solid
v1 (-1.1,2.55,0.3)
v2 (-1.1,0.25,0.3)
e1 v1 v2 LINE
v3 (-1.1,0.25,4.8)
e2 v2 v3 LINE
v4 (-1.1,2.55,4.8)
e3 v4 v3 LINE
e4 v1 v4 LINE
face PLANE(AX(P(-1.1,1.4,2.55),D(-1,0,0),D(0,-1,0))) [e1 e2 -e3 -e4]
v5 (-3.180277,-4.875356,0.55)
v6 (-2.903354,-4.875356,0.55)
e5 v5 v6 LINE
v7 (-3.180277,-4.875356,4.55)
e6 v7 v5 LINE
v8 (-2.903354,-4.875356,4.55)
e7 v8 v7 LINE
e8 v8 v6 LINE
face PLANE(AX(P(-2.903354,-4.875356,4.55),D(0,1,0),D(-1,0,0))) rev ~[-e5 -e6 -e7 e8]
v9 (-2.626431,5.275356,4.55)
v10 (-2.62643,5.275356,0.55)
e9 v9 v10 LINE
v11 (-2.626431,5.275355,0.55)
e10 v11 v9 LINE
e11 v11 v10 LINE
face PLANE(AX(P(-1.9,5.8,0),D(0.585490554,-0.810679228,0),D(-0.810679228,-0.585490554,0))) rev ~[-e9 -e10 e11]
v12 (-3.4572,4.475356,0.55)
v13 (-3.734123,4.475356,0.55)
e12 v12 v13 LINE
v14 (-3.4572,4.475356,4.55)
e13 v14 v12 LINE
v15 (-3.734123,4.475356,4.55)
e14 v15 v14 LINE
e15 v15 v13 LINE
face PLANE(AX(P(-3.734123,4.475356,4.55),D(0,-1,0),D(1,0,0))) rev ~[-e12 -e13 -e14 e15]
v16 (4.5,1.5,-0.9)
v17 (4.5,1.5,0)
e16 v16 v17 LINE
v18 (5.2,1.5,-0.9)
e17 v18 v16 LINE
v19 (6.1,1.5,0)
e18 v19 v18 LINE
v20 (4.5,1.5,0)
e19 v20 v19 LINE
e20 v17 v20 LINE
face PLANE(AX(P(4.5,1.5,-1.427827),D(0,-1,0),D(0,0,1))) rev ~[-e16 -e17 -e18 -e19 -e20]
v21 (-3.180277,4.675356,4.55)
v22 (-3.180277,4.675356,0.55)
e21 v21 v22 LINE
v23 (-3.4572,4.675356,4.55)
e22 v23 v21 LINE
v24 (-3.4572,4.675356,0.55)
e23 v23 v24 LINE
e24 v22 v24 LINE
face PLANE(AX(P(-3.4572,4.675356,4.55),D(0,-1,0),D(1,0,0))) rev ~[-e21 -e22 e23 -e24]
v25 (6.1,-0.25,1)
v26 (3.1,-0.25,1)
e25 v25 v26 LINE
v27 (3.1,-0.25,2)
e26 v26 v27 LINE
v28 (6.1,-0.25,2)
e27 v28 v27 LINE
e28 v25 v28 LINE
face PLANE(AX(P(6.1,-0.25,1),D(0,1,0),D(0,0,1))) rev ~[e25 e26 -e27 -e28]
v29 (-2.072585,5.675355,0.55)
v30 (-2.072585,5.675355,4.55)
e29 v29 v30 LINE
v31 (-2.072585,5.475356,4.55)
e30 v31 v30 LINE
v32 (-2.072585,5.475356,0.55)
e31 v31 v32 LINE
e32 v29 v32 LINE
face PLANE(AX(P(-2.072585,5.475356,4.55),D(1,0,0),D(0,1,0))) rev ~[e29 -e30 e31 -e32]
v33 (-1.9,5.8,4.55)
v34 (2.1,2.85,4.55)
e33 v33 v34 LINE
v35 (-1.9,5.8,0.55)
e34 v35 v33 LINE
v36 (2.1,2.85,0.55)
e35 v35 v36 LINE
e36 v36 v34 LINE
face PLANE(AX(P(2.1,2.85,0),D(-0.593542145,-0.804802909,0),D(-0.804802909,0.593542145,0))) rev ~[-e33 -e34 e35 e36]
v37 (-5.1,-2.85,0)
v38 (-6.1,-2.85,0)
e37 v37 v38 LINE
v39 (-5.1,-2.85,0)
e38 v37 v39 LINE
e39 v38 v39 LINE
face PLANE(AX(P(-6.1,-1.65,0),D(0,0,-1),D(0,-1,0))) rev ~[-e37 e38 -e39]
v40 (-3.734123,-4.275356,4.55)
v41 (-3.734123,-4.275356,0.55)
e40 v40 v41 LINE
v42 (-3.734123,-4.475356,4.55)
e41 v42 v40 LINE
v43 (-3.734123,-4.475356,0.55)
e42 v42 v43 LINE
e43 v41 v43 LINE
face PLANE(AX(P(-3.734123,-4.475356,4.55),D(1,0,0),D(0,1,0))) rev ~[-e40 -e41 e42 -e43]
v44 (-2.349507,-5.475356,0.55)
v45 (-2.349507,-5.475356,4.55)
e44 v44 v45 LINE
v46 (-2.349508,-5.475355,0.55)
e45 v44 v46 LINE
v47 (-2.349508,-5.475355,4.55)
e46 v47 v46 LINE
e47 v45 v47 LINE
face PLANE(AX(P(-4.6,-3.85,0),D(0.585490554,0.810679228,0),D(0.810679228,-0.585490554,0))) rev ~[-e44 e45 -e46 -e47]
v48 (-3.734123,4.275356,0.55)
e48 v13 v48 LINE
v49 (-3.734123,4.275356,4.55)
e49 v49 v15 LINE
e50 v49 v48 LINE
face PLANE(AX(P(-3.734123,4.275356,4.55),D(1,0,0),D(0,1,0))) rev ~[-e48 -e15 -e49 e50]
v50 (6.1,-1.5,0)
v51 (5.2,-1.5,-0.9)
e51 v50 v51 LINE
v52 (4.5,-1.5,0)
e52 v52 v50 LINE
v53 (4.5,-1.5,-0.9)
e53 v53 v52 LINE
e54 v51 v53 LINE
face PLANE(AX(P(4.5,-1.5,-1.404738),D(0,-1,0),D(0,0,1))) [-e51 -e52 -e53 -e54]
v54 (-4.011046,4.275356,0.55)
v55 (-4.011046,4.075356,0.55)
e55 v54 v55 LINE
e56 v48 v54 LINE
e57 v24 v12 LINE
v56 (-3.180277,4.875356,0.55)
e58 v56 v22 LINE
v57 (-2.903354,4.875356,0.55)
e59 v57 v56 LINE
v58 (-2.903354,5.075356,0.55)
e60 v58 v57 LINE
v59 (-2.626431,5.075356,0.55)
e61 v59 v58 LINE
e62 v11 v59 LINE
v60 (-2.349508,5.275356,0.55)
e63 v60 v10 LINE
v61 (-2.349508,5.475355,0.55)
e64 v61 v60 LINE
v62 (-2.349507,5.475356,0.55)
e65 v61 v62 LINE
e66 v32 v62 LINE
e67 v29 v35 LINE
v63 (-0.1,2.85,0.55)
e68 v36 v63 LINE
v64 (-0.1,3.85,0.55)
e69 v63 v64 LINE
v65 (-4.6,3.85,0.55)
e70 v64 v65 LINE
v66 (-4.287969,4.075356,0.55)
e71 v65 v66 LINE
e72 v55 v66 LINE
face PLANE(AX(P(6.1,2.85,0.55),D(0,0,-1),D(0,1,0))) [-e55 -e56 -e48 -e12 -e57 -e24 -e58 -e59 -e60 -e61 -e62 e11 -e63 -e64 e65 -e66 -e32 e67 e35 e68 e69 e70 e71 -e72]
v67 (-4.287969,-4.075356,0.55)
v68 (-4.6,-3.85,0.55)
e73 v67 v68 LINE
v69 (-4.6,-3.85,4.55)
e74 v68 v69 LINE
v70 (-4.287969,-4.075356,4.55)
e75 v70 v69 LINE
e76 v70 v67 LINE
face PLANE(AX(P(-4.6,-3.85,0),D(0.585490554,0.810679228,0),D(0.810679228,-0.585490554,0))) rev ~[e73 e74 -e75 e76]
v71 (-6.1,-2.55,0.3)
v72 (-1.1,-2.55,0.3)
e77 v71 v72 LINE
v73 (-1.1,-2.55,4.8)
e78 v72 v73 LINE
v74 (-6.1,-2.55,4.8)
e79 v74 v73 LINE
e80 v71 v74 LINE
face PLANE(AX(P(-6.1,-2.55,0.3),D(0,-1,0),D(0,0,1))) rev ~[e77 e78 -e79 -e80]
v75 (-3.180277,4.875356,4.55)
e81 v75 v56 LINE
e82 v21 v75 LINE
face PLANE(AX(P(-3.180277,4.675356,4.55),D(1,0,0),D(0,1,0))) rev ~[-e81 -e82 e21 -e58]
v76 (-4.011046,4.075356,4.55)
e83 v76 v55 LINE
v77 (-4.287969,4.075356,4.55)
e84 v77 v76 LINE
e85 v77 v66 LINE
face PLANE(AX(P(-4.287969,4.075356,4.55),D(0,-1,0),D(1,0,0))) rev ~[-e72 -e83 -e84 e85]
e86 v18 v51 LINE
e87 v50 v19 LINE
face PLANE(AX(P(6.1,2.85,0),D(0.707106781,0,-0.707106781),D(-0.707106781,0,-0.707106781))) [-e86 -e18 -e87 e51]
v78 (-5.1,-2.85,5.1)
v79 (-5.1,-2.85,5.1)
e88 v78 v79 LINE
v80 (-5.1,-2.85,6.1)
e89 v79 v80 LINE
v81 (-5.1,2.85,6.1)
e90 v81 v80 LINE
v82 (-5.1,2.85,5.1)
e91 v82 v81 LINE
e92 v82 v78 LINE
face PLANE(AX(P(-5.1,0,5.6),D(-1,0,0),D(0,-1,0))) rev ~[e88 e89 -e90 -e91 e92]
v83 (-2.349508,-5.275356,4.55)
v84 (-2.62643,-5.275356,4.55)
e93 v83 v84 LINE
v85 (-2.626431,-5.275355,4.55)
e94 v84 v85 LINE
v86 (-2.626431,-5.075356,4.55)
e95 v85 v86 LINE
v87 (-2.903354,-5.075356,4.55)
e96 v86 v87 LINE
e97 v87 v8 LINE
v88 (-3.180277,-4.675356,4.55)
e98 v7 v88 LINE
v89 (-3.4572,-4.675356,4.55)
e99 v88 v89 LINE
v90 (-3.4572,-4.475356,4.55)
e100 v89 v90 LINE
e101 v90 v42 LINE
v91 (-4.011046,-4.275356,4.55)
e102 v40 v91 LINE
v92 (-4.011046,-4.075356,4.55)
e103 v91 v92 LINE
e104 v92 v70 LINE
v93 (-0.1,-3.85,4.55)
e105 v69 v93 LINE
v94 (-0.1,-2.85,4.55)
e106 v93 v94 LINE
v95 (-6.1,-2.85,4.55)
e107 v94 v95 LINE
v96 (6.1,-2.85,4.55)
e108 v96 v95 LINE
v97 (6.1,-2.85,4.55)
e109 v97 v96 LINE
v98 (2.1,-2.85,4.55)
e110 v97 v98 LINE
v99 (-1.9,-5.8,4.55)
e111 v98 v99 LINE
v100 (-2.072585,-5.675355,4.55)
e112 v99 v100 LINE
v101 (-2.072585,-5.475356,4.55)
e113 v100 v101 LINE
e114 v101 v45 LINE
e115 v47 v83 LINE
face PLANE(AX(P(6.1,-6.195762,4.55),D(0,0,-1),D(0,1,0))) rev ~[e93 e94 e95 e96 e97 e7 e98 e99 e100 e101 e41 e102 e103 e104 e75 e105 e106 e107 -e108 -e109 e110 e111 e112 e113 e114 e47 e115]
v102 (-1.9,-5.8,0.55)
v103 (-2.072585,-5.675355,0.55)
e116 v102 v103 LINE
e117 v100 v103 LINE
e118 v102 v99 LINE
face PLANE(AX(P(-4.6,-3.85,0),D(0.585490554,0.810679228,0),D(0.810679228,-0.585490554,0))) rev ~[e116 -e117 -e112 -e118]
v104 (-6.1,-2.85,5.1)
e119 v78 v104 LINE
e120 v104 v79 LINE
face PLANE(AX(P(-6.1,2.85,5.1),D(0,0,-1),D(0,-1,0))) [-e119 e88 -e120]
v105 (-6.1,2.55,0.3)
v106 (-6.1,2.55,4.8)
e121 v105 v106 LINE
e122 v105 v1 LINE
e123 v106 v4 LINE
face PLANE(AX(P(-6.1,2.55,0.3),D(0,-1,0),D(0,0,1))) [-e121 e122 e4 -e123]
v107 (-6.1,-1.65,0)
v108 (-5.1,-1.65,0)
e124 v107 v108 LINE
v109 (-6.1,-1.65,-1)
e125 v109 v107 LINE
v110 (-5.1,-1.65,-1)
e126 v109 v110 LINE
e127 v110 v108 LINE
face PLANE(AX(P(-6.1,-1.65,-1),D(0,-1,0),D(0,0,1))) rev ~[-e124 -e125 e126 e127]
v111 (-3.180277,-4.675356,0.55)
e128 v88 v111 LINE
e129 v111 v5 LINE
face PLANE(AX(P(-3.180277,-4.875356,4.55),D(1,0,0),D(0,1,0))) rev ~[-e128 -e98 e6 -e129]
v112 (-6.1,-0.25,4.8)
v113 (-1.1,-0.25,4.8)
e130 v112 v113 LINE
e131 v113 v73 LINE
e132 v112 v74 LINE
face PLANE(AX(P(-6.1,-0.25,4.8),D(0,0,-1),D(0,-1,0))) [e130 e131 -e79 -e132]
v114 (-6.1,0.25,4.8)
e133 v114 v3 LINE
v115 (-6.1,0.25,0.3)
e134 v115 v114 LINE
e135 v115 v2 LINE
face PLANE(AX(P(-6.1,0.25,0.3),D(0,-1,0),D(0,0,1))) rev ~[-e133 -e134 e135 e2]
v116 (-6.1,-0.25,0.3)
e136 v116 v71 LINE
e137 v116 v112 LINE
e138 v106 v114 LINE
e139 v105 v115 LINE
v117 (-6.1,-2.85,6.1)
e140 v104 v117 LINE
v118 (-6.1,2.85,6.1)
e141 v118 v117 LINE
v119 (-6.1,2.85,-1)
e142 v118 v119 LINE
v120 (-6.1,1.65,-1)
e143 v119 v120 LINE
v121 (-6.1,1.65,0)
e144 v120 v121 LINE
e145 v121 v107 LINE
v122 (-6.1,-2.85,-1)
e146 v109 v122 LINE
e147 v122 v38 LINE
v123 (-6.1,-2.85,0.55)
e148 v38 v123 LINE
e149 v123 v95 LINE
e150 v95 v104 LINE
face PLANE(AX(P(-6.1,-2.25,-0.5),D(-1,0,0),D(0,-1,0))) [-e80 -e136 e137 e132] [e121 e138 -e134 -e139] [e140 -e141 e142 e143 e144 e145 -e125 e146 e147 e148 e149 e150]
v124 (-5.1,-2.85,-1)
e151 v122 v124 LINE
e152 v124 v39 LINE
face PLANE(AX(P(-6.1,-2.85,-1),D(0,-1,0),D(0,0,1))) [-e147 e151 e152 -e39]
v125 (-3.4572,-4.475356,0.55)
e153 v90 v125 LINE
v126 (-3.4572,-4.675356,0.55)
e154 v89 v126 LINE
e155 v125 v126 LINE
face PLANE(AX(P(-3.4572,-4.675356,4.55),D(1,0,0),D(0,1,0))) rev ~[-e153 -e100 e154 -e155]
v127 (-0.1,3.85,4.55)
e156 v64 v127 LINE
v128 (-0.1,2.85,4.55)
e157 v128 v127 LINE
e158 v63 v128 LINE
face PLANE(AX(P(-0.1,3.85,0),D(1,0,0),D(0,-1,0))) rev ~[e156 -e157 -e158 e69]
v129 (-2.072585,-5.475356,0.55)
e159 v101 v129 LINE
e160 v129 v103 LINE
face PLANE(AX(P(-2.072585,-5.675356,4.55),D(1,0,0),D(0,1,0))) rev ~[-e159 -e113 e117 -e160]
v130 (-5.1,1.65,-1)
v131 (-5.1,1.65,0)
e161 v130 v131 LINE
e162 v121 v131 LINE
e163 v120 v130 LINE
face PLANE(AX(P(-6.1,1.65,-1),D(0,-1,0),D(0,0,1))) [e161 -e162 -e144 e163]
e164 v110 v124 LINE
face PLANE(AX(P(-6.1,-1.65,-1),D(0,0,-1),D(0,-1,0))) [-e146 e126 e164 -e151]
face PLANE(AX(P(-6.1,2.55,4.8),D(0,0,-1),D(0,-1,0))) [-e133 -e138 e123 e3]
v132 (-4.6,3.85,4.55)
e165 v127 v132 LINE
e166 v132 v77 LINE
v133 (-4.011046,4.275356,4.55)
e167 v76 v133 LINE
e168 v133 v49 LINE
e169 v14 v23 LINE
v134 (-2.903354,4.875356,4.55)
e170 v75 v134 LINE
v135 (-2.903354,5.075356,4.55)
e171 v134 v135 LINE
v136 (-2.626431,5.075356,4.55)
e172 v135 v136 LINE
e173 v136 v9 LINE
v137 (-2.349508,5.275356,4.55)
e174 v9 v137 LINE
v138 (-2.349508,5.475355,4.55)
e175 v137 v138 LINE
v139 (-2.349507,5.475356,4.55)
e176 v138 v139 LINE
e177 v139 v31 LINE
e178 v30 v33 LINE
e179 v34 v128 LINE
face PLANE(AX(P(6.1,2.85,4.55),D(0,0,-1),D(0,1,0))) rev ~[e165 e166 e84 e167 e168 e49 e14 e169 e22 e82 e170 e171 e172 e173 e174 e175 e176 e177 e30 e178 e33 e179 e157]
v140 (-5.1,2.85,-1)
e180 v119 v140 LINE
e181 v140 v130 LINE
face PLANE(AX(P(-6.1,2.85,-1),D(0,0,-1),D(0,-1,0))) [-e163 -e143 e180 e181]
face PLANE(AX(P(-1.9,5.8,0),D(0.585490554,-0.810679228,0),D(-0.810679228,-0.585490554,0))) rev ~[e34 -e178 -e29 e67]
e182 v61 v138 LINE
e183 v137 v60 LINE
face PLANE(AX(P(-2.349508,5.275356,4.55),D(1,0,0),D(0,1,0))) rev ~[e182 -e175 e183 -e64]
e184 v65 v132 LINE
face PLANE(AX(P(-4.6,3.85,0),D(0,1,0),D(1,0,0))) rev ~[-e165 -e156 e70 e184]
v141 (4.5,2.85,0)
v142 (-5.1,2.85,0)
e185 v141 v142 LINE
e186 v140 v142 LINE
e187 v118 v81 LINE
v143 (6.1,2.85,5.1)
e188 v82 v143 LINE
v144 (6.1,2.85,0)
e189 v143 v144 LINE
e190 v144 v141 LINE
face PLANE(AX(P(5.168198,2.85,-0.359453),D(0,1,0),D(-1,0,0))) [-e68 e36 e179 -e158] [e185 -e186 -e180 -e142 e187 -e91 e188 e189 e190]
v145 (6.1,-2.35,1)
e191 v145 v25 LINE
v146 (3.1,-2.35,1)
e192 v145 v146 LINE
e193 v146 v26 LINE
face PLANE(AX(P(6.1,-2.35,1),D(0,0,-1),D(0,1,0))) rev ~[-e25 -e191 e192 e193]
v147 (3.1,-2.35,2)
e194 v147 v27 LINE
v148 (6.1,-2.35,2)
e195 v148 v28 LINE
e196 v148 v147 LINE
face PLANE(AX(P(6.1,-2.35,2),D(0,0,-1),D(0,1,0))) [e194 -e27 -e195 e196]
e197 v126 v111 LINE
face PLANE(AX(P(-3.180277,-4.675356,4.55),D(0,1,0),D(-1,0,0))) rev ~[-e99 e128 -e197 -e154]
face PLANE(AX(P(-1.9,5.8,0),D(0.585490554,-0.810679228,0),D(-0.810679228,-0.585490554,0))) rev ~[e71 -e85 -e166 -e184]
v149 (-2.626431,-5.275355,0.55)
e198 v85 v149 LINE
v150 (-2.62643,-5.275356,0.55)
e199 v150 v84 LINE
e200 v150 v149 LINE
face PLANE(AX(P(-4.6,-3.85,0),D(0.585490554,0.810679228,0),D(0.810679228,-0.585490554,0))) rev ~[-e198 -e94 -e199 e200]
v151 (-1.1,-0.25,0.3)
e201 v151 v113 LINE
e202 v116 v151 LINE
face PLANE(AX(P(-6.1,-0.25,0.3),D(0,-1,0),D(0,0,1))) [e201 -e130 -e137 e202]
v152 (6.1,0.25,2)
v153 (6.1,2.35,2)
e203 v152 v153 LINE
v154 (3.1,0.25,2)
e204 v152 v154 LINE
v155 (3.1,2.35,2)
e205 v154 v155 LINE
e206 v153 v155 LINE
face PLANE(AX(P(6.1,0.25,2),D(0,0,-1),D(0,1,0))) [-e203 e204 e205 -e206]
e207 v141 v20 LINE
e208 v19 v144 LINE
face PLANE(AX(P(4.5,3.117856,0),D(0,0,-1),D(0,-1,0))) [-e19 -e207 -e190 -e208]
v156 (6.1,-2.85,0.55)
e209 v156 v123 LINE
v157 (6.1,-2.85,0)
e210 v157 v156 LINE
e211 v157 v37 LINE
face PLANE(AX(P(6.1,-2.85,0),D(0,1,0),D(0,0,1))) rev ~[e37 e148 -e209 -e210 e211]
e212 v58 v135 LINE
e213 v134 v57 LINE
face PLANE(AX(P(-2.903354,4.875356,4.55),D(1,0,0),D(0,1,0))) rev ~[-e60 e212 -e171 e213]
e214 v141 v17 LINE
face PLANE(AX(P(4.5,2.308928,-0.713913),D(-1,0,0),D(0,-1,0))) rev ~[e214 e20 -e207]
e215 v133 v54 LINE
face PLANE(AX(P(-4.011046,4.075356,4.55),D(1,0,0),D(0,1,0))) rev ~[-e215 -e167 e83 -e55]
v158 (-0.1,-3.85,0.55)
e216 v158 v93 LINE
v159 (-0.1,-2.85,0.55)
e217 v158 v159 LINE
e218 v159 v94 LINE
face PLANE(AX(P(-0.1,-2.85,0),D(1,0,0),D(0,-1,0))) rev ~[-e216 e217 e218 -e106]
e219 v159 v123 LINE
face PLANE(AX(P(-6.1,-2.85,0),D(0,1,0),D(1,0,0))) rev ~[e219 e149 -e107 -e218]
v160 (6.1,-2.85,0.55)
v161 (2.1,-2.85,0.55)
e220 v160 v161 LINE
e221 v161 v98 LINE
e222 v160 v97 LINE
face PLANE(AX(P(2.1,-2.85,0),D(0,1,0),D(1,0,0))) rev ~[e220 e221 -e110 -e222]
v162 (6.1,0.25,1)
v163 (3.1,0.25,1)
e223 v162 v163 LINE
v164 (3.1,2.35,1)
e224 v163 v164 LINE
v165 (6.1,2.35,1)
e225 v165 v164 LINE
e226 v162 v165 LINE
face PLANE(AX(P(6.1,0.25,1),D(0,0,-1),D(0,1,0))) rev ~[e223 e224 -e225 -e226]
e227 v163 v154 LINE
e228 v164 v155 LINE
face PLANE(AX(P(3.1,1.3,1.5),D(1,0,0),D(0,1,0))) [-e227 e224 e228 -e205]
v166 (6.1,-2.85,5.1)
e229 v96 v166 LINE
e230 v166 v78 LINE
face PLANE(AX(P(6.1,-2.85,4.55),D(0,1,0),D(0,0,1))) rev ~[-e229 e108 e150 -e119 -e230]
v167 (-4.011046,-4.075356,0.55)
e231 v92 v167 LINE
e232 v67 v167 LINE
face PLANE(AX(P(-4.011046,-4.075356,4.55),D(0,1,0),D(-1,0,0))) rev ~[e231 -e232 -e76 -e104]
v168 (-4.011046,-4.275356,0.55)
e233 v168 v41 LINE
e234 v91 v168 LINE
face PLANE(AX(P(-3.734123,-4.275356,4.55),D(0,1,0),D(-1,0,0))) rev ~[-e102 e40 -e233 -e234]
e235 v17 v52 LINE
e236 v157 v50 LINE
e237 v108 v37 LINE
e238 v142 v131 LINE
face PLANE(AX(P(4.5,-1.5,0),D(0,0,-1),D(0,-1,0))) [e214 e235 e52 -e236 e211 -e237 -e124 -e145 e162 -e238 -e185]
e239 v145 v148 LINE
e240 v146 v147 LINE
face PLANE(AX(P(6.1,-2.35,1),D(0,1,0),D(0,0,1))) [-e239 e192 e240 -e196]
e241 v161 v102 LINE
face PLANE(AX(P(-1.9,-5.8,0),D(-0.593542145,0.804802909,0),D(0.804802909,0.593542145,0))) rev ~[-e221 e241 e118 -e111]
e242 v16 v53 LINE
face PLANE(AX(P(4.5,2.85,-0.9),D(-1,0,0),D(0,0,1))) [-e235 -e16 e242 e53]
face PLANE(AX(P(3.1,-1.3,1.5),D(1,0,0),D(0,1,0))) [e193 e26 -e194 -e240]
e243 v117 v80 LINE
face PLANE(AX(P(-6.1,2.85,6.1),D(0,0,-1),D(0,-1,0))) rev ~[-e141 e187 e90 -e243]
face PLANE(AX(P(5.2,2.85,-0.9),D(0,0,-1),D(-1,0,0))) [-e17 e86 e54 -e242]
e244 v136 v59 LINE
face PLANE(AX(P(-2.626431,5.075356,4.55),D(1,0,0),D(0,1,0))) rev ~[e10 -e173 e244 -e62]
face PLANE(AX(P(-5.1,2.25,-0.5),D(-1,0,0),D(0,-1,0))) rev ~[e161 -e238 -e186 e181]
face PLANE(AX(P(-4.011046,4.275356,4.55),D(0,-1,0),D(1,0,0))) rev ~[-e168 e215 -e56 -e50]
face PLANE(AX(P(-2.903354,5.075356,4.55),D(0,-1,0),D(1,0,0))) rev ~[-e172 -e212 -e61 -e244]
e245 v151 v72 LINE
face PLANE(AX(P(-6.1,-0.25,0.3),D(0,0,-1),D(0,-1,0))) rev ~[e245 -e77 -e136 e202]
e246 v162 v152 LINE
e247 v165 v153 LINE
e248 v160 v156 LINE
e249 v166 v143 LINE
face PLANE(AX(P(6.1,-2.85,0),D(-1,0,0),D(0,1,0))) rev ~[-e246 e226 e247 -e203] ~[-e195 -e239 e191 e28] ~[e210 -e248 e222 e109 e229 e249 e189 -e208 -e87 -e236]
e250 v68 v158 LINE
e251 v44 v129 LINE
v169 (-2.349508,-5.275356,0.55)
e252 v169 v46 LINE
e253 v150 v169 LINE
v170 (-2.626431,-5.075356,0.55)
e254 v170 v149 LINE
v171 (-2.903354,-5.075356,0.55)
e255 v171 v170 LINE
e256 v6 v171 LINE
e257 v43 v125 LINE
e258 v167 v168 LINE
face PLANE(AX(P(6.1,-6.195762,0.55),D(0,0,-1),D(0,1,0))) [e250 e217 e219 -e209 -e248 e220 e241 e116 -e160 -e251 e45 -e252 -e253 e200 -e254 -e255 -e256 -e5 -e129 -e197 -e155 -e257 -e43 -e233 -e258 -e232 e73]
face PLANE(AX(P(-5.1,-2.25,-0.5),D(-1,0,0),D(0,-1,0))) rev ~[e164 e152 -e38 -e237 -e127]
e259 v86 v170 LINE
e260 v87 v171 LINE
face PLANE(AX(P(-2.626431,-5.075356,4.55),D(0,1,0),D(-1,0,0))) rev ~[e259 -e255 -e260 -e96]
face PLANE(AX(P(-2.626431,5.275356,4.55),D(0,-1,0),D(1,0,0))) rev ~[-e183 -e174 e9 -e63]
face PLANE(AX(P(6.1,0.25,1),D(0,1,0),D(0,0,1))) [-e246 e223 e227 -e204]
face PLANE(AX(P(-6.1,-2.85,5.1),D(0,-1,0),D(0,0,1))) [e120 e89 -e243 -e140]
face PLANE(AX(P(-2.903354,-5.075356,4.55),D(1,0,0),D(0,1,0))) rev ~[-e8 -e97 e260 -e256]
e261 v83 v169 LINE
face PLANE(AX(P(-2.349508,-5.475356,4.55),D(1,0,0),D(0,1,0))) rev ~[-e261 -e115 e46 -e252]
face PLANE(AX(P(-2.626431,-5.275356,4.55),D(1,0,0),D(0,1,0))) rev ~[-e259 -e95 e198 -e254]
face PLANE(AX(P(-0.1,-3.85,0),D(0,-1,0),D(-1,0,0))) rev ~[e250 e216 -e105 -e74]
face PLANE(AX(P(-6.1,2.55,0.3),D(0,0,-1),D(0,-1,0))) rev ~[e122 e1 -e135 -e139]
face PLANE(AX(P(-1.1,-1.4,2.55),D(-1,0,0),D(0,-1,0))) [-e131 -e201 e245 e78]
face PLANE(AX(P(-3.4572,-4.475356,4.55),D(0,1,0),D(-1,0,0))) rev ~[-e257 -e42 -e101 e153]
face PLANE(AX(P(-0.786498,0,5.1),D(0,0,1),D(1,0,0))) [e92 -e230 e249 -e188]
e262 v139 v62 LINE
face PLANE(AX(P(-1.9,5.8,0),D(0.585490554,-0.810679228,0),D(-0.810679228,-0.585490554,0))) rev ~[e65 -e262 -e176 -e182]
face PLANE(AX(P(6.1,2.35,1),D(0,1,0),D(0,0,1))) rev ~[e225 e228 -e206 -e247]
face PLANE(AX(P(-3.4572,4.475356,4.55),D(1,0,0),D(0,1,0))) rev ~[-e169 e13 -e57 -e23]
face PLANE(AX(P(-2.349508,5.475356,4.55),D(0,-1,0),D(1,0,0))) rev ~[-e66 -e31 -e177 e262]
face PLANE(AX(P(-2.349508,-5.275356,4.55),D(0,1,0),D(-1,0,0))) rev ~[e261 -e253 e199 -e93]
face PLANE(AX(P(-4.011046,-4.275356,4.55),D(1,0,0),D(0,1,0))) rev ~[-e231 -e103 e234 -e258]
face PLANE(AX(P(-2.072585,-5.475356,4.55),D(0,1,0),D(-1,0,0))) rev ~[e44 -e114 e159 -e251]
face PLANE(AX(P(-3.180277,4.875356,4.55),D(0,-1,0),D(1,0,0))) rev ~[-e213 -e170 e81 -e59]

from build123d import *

# Parameters (mm, degrees)
F1_DEPTH  = 5.1
F2_W      = 3.345763
F2_H      = 0.55
F2_W_2    = 3.297828
F3_DEPTH  = 15
F5_DEPTH  = 25
F6_DEPTH  = 10
F7_W      = 5.7
F7_H      = 1
F7_W_2    = 1.2
F8_DEPTH  = 1
F11_DEPTH = 5.7
F12_W     = 1.586434
F12_H     = 1.404738
F12_W_2   = 1.617856
F12_H_2   = 1.427827
F13_DEPTH = 3
F14_W     = 2.1
F14_H     = 1
F15_DEPTH = 3
F16_W     = 2.3
F16_H     = 4.5
F17_DEPTH = 5


with BuildPart() as f1:
    # F0 (on Top) → F1 (new body)
    with BuildSketch(Plane.XY):
        Polygon((-0.1, 2.85), (-6.1, 2.85), (-6.1, -2.85), (-0.1, -2.85), (-0.1, -3.85), (-4.6, -3.85), (-1.9, -5.8), (2.1, -2.85), (6.1, -2.85), (6.1, 2.85), (2.1, 2.85), (-1.9, 5.8), (-4.6, 3.85), (-0.1, 3.85), align=None)
    extrude(amount=F1_DEPTH)

    # F2 (on face) → F3 (cut)
    with BuildSketch(Plane.YZ.offset(6.1)):
        with Locations((-4.522881, 4.825)):
            Rectangle(F2_W, F2_H)
        with Locations((-4.522881, 0.275)):
            Rectangle(F2_W, F2_H)
        with Locations((4.498914, 4.825)):
            Rectangle(F2_W_2, F2_H)
        with Locations((4.498914, 0.275)):
            Rectangle(F2_W_2, F2_H)
    extrude(amount=-F3_DEPTH, mode=Mode.SUBTRACT)

    # F4 (on face) → F5 (cut)
    with BuildSketch(Plane.XY.offset(4.55)):
        Polygon((-4.011046, 4.075356), (-4.011046, 4.275356), (-4.287969, 4.075356), align=None)
        Polygon((-3.734123, 4.275356), (-3.734123, 4.475356), (-4.011046, 4.275356), align=None)
        Polygon((-3.4572, 4.475356), (-3.4572, 4.675356), (-3.734123, 4.475356), align=None)
        Polygon((-3.180277, 4.675356), (-3.180277, 4.875356), (-3.4572, 4.675356), align=None)
        Polygon((-2.903354, 4.875356), (-2.903354, 5.075356), (-3.180277, 4.875356), align=None)
        Polygon((-2.626431, 5.075356), (-2.626431, 5.275356), (-2.903354, 5.075356), align=None)
        Polygon((-2.349508, 5.275356), (-2.349508, 5.475356), (-2.626431, 5.275356), align=None)
        Polygon((-2.349508, 5.475356), (-2.072585, 5.475356), (-2.072585, 5.675356), align=None)
        Polygon((-3.734123, -4.475356), (-3.4572, -4.675356), (-3.4572, -4.475356), align=None)
        Polygon((-2.072585, -5.475356), (-2.349508, -5.475356), (-2.072585, -5.675356), align=None)
        Polygon((-2.349508, -5.275356), (-2.626431, -5.275356), (-2.349508, -5.475356), align=None)
        Polygon((-2.626431, -5.075356), (-2.903354, -5.075356), (-2.626431, -5.275356), align=None)
        Polygon((-2.903354, -4.875356), (-3.180277, -4.875356), (-2.903354, -5.075356), align=None)
        Polygon((-3.180277, -4.675356), (-3.4572, -4.675356), (-3.180277, -4.875356), align=None)
        Polygon((-4.287969, -4.075356), (-4.011046, -4.275356), (-4.011046, -4.075356), align=None)
        Polygon((-4.011046, -4.275356), (-3.734123, -4.475356), (-3.734123, -4.275356), align=None)
    extrude(amount=-F5_DEPTH, mode=Mode.SUBTRACT)

    # F4 (on face) → F6 (cut)
    with BuildSketch(Plane.XY.offset(4.55)):
        Polygon((-4.011046, 4.075356), (-4.011046, 4.275356), (-4.287969, 4.075356), align=None)
        Polygon((-3.734123, 4.275356), (-3.734123, 4.475356), (-4.011046, 4.275356), align=None)
        Polygon((-3.4572, 4.475356), (-3.4572, 4.675356), (-3.734123, 4.475356), align=None)
        Polygon((-3.180277, 4.675356), (-3.180277, 4.875356), (-3.4572, 4.675356), align=None)
        Polygon((-2.903354, 4.875356), (-2.903354, 5.075356), (-3.180277, 4.875356), align=None)
        Polygon((-2.626431, 5.075356), (-2.626431, 5.275356), (-2.903354, 5.075356), align=None)
        Polygon((-2.349508, 5.275356), (-2.349508, 5.475356), (-2.626431, 5.275356), align=None)
        Polygon((-2.349508, 5.475356), (-2.072585, 5.475356), (-2.072585, 5.675356), align=None)
        Polygon((-3.734123, -4.475356), (-3.4572, -4.675356), (-3.4572, -4.475356), align=None)
        Polygon((-2.072585, -5.475356), (-2.349508, -5.475356), (-2.072585, -5.675356), align=None)
        Polygon((-2.349508, -5.275356), (-2.626431, -5.275356), (-2.349508, -5.475356), align=None)
        Polygon((-2.626431, -5.075356), (-2.903354, -5.075356), (-2.626431, -5.275356), align=None)
        Polygon((-2.903354, -4.875356), (-3.180277, -4.875356), (-2.903354, -5.075356), align=None)
        Polygon((-3.180277, -4.675356), (-3.4572, -4.675356), (-3.180277, -4.875356), align=None)
        Polygon((-4.287969, -4.075356), (-4.011046, -4.275356), (-4.011046, -4.075356), align=None)
        Polygon((-4.011046, -4.275356), (-3.734123, -4.475356), (-3.734123, -4.275356), align=None)
    extrude(amount=-F6_DEPTH, mode=Mode.SUBTRACT)


with BuildPart() as f8:
    # F7 (on face) → F8 (new body)
    with BuildSketch(Plane(origin=(-6.1, 0, 0), x_dir=(0, -1, 0), z_dir=(-1, 0, 0))):
        with Locations((0, 5.6)):
            Rectangle(F7_W, F7_H)
        with Locations((-2.25, -0.5)):
            Rectangle(F7_W_2, F7_H)
        with Locations((2.25, -0.5)):
            Rectangle(F7_W_2, F7_H)
    extrude(amount=-F8_DEPTH)


with BuildPart() as f1_1:
    add(f1.part)

    # F9: union F8
    add(f8.part)

    # F10 (on face) → F11 (join, through all)
    with BuildSketch(Plane(origin=(0, 2.85, 0), x_dir=(-1, 0, 0), z_dir=(0, 1, 0))):
        Polygon((-6.1, 0), (-5.2, -0.9), (-4.5, -0.9), (-4.5, 0), align=None)
    extrude(amount=-F11_DEPTH)

    # F12 (on face) → F13 (cut)
    with BuildSketch(Plane(origin=(4.5, 0, 0), x_dir=(0, -1, 0), z_dir=(-1, 0, 0))):
        with Locations((2.293217, -0.702369)):
            Rectangle(F12_W, F12_H)
        with Locations((-2.308928, -0.713913)):
            Rectangle(F12_W_2, F12_H_2)
    extrude(amount=-F13_DEPTH, mode=Mode.SUBTRACT)

    # F14 (on face) → F15 (cut)
    with BuildSketch(Plane.YZ.offset(6.1)):
        with Locations((-1.3, 1.5)):
            Rectangle(F14_W, F14_H)
        with Locations((1.3, 1.5)):
            Rectangle(F14_W, F14_H)
    extrude(amount=-F15_DEPTH, mode=Mode.SUBTRACT)

    # F16 (on face) → F17 (cut)
    with BuildSketch(Plane(origin=(-6.1, 0, 0), x_dir=(0, -1, 0), z_dir=(-1, 0, 0))):
        with Locations((-1.4, 2.55)):
            Rectangle(F16_W, F16_H)
        with Locations((1.4, 2.55)):
            Rectangle(F16_W, F16_H)
    extrude(amount=-F17_DEPTH, mode=Mode.SUBTRACT)


solid = f1_1.part
